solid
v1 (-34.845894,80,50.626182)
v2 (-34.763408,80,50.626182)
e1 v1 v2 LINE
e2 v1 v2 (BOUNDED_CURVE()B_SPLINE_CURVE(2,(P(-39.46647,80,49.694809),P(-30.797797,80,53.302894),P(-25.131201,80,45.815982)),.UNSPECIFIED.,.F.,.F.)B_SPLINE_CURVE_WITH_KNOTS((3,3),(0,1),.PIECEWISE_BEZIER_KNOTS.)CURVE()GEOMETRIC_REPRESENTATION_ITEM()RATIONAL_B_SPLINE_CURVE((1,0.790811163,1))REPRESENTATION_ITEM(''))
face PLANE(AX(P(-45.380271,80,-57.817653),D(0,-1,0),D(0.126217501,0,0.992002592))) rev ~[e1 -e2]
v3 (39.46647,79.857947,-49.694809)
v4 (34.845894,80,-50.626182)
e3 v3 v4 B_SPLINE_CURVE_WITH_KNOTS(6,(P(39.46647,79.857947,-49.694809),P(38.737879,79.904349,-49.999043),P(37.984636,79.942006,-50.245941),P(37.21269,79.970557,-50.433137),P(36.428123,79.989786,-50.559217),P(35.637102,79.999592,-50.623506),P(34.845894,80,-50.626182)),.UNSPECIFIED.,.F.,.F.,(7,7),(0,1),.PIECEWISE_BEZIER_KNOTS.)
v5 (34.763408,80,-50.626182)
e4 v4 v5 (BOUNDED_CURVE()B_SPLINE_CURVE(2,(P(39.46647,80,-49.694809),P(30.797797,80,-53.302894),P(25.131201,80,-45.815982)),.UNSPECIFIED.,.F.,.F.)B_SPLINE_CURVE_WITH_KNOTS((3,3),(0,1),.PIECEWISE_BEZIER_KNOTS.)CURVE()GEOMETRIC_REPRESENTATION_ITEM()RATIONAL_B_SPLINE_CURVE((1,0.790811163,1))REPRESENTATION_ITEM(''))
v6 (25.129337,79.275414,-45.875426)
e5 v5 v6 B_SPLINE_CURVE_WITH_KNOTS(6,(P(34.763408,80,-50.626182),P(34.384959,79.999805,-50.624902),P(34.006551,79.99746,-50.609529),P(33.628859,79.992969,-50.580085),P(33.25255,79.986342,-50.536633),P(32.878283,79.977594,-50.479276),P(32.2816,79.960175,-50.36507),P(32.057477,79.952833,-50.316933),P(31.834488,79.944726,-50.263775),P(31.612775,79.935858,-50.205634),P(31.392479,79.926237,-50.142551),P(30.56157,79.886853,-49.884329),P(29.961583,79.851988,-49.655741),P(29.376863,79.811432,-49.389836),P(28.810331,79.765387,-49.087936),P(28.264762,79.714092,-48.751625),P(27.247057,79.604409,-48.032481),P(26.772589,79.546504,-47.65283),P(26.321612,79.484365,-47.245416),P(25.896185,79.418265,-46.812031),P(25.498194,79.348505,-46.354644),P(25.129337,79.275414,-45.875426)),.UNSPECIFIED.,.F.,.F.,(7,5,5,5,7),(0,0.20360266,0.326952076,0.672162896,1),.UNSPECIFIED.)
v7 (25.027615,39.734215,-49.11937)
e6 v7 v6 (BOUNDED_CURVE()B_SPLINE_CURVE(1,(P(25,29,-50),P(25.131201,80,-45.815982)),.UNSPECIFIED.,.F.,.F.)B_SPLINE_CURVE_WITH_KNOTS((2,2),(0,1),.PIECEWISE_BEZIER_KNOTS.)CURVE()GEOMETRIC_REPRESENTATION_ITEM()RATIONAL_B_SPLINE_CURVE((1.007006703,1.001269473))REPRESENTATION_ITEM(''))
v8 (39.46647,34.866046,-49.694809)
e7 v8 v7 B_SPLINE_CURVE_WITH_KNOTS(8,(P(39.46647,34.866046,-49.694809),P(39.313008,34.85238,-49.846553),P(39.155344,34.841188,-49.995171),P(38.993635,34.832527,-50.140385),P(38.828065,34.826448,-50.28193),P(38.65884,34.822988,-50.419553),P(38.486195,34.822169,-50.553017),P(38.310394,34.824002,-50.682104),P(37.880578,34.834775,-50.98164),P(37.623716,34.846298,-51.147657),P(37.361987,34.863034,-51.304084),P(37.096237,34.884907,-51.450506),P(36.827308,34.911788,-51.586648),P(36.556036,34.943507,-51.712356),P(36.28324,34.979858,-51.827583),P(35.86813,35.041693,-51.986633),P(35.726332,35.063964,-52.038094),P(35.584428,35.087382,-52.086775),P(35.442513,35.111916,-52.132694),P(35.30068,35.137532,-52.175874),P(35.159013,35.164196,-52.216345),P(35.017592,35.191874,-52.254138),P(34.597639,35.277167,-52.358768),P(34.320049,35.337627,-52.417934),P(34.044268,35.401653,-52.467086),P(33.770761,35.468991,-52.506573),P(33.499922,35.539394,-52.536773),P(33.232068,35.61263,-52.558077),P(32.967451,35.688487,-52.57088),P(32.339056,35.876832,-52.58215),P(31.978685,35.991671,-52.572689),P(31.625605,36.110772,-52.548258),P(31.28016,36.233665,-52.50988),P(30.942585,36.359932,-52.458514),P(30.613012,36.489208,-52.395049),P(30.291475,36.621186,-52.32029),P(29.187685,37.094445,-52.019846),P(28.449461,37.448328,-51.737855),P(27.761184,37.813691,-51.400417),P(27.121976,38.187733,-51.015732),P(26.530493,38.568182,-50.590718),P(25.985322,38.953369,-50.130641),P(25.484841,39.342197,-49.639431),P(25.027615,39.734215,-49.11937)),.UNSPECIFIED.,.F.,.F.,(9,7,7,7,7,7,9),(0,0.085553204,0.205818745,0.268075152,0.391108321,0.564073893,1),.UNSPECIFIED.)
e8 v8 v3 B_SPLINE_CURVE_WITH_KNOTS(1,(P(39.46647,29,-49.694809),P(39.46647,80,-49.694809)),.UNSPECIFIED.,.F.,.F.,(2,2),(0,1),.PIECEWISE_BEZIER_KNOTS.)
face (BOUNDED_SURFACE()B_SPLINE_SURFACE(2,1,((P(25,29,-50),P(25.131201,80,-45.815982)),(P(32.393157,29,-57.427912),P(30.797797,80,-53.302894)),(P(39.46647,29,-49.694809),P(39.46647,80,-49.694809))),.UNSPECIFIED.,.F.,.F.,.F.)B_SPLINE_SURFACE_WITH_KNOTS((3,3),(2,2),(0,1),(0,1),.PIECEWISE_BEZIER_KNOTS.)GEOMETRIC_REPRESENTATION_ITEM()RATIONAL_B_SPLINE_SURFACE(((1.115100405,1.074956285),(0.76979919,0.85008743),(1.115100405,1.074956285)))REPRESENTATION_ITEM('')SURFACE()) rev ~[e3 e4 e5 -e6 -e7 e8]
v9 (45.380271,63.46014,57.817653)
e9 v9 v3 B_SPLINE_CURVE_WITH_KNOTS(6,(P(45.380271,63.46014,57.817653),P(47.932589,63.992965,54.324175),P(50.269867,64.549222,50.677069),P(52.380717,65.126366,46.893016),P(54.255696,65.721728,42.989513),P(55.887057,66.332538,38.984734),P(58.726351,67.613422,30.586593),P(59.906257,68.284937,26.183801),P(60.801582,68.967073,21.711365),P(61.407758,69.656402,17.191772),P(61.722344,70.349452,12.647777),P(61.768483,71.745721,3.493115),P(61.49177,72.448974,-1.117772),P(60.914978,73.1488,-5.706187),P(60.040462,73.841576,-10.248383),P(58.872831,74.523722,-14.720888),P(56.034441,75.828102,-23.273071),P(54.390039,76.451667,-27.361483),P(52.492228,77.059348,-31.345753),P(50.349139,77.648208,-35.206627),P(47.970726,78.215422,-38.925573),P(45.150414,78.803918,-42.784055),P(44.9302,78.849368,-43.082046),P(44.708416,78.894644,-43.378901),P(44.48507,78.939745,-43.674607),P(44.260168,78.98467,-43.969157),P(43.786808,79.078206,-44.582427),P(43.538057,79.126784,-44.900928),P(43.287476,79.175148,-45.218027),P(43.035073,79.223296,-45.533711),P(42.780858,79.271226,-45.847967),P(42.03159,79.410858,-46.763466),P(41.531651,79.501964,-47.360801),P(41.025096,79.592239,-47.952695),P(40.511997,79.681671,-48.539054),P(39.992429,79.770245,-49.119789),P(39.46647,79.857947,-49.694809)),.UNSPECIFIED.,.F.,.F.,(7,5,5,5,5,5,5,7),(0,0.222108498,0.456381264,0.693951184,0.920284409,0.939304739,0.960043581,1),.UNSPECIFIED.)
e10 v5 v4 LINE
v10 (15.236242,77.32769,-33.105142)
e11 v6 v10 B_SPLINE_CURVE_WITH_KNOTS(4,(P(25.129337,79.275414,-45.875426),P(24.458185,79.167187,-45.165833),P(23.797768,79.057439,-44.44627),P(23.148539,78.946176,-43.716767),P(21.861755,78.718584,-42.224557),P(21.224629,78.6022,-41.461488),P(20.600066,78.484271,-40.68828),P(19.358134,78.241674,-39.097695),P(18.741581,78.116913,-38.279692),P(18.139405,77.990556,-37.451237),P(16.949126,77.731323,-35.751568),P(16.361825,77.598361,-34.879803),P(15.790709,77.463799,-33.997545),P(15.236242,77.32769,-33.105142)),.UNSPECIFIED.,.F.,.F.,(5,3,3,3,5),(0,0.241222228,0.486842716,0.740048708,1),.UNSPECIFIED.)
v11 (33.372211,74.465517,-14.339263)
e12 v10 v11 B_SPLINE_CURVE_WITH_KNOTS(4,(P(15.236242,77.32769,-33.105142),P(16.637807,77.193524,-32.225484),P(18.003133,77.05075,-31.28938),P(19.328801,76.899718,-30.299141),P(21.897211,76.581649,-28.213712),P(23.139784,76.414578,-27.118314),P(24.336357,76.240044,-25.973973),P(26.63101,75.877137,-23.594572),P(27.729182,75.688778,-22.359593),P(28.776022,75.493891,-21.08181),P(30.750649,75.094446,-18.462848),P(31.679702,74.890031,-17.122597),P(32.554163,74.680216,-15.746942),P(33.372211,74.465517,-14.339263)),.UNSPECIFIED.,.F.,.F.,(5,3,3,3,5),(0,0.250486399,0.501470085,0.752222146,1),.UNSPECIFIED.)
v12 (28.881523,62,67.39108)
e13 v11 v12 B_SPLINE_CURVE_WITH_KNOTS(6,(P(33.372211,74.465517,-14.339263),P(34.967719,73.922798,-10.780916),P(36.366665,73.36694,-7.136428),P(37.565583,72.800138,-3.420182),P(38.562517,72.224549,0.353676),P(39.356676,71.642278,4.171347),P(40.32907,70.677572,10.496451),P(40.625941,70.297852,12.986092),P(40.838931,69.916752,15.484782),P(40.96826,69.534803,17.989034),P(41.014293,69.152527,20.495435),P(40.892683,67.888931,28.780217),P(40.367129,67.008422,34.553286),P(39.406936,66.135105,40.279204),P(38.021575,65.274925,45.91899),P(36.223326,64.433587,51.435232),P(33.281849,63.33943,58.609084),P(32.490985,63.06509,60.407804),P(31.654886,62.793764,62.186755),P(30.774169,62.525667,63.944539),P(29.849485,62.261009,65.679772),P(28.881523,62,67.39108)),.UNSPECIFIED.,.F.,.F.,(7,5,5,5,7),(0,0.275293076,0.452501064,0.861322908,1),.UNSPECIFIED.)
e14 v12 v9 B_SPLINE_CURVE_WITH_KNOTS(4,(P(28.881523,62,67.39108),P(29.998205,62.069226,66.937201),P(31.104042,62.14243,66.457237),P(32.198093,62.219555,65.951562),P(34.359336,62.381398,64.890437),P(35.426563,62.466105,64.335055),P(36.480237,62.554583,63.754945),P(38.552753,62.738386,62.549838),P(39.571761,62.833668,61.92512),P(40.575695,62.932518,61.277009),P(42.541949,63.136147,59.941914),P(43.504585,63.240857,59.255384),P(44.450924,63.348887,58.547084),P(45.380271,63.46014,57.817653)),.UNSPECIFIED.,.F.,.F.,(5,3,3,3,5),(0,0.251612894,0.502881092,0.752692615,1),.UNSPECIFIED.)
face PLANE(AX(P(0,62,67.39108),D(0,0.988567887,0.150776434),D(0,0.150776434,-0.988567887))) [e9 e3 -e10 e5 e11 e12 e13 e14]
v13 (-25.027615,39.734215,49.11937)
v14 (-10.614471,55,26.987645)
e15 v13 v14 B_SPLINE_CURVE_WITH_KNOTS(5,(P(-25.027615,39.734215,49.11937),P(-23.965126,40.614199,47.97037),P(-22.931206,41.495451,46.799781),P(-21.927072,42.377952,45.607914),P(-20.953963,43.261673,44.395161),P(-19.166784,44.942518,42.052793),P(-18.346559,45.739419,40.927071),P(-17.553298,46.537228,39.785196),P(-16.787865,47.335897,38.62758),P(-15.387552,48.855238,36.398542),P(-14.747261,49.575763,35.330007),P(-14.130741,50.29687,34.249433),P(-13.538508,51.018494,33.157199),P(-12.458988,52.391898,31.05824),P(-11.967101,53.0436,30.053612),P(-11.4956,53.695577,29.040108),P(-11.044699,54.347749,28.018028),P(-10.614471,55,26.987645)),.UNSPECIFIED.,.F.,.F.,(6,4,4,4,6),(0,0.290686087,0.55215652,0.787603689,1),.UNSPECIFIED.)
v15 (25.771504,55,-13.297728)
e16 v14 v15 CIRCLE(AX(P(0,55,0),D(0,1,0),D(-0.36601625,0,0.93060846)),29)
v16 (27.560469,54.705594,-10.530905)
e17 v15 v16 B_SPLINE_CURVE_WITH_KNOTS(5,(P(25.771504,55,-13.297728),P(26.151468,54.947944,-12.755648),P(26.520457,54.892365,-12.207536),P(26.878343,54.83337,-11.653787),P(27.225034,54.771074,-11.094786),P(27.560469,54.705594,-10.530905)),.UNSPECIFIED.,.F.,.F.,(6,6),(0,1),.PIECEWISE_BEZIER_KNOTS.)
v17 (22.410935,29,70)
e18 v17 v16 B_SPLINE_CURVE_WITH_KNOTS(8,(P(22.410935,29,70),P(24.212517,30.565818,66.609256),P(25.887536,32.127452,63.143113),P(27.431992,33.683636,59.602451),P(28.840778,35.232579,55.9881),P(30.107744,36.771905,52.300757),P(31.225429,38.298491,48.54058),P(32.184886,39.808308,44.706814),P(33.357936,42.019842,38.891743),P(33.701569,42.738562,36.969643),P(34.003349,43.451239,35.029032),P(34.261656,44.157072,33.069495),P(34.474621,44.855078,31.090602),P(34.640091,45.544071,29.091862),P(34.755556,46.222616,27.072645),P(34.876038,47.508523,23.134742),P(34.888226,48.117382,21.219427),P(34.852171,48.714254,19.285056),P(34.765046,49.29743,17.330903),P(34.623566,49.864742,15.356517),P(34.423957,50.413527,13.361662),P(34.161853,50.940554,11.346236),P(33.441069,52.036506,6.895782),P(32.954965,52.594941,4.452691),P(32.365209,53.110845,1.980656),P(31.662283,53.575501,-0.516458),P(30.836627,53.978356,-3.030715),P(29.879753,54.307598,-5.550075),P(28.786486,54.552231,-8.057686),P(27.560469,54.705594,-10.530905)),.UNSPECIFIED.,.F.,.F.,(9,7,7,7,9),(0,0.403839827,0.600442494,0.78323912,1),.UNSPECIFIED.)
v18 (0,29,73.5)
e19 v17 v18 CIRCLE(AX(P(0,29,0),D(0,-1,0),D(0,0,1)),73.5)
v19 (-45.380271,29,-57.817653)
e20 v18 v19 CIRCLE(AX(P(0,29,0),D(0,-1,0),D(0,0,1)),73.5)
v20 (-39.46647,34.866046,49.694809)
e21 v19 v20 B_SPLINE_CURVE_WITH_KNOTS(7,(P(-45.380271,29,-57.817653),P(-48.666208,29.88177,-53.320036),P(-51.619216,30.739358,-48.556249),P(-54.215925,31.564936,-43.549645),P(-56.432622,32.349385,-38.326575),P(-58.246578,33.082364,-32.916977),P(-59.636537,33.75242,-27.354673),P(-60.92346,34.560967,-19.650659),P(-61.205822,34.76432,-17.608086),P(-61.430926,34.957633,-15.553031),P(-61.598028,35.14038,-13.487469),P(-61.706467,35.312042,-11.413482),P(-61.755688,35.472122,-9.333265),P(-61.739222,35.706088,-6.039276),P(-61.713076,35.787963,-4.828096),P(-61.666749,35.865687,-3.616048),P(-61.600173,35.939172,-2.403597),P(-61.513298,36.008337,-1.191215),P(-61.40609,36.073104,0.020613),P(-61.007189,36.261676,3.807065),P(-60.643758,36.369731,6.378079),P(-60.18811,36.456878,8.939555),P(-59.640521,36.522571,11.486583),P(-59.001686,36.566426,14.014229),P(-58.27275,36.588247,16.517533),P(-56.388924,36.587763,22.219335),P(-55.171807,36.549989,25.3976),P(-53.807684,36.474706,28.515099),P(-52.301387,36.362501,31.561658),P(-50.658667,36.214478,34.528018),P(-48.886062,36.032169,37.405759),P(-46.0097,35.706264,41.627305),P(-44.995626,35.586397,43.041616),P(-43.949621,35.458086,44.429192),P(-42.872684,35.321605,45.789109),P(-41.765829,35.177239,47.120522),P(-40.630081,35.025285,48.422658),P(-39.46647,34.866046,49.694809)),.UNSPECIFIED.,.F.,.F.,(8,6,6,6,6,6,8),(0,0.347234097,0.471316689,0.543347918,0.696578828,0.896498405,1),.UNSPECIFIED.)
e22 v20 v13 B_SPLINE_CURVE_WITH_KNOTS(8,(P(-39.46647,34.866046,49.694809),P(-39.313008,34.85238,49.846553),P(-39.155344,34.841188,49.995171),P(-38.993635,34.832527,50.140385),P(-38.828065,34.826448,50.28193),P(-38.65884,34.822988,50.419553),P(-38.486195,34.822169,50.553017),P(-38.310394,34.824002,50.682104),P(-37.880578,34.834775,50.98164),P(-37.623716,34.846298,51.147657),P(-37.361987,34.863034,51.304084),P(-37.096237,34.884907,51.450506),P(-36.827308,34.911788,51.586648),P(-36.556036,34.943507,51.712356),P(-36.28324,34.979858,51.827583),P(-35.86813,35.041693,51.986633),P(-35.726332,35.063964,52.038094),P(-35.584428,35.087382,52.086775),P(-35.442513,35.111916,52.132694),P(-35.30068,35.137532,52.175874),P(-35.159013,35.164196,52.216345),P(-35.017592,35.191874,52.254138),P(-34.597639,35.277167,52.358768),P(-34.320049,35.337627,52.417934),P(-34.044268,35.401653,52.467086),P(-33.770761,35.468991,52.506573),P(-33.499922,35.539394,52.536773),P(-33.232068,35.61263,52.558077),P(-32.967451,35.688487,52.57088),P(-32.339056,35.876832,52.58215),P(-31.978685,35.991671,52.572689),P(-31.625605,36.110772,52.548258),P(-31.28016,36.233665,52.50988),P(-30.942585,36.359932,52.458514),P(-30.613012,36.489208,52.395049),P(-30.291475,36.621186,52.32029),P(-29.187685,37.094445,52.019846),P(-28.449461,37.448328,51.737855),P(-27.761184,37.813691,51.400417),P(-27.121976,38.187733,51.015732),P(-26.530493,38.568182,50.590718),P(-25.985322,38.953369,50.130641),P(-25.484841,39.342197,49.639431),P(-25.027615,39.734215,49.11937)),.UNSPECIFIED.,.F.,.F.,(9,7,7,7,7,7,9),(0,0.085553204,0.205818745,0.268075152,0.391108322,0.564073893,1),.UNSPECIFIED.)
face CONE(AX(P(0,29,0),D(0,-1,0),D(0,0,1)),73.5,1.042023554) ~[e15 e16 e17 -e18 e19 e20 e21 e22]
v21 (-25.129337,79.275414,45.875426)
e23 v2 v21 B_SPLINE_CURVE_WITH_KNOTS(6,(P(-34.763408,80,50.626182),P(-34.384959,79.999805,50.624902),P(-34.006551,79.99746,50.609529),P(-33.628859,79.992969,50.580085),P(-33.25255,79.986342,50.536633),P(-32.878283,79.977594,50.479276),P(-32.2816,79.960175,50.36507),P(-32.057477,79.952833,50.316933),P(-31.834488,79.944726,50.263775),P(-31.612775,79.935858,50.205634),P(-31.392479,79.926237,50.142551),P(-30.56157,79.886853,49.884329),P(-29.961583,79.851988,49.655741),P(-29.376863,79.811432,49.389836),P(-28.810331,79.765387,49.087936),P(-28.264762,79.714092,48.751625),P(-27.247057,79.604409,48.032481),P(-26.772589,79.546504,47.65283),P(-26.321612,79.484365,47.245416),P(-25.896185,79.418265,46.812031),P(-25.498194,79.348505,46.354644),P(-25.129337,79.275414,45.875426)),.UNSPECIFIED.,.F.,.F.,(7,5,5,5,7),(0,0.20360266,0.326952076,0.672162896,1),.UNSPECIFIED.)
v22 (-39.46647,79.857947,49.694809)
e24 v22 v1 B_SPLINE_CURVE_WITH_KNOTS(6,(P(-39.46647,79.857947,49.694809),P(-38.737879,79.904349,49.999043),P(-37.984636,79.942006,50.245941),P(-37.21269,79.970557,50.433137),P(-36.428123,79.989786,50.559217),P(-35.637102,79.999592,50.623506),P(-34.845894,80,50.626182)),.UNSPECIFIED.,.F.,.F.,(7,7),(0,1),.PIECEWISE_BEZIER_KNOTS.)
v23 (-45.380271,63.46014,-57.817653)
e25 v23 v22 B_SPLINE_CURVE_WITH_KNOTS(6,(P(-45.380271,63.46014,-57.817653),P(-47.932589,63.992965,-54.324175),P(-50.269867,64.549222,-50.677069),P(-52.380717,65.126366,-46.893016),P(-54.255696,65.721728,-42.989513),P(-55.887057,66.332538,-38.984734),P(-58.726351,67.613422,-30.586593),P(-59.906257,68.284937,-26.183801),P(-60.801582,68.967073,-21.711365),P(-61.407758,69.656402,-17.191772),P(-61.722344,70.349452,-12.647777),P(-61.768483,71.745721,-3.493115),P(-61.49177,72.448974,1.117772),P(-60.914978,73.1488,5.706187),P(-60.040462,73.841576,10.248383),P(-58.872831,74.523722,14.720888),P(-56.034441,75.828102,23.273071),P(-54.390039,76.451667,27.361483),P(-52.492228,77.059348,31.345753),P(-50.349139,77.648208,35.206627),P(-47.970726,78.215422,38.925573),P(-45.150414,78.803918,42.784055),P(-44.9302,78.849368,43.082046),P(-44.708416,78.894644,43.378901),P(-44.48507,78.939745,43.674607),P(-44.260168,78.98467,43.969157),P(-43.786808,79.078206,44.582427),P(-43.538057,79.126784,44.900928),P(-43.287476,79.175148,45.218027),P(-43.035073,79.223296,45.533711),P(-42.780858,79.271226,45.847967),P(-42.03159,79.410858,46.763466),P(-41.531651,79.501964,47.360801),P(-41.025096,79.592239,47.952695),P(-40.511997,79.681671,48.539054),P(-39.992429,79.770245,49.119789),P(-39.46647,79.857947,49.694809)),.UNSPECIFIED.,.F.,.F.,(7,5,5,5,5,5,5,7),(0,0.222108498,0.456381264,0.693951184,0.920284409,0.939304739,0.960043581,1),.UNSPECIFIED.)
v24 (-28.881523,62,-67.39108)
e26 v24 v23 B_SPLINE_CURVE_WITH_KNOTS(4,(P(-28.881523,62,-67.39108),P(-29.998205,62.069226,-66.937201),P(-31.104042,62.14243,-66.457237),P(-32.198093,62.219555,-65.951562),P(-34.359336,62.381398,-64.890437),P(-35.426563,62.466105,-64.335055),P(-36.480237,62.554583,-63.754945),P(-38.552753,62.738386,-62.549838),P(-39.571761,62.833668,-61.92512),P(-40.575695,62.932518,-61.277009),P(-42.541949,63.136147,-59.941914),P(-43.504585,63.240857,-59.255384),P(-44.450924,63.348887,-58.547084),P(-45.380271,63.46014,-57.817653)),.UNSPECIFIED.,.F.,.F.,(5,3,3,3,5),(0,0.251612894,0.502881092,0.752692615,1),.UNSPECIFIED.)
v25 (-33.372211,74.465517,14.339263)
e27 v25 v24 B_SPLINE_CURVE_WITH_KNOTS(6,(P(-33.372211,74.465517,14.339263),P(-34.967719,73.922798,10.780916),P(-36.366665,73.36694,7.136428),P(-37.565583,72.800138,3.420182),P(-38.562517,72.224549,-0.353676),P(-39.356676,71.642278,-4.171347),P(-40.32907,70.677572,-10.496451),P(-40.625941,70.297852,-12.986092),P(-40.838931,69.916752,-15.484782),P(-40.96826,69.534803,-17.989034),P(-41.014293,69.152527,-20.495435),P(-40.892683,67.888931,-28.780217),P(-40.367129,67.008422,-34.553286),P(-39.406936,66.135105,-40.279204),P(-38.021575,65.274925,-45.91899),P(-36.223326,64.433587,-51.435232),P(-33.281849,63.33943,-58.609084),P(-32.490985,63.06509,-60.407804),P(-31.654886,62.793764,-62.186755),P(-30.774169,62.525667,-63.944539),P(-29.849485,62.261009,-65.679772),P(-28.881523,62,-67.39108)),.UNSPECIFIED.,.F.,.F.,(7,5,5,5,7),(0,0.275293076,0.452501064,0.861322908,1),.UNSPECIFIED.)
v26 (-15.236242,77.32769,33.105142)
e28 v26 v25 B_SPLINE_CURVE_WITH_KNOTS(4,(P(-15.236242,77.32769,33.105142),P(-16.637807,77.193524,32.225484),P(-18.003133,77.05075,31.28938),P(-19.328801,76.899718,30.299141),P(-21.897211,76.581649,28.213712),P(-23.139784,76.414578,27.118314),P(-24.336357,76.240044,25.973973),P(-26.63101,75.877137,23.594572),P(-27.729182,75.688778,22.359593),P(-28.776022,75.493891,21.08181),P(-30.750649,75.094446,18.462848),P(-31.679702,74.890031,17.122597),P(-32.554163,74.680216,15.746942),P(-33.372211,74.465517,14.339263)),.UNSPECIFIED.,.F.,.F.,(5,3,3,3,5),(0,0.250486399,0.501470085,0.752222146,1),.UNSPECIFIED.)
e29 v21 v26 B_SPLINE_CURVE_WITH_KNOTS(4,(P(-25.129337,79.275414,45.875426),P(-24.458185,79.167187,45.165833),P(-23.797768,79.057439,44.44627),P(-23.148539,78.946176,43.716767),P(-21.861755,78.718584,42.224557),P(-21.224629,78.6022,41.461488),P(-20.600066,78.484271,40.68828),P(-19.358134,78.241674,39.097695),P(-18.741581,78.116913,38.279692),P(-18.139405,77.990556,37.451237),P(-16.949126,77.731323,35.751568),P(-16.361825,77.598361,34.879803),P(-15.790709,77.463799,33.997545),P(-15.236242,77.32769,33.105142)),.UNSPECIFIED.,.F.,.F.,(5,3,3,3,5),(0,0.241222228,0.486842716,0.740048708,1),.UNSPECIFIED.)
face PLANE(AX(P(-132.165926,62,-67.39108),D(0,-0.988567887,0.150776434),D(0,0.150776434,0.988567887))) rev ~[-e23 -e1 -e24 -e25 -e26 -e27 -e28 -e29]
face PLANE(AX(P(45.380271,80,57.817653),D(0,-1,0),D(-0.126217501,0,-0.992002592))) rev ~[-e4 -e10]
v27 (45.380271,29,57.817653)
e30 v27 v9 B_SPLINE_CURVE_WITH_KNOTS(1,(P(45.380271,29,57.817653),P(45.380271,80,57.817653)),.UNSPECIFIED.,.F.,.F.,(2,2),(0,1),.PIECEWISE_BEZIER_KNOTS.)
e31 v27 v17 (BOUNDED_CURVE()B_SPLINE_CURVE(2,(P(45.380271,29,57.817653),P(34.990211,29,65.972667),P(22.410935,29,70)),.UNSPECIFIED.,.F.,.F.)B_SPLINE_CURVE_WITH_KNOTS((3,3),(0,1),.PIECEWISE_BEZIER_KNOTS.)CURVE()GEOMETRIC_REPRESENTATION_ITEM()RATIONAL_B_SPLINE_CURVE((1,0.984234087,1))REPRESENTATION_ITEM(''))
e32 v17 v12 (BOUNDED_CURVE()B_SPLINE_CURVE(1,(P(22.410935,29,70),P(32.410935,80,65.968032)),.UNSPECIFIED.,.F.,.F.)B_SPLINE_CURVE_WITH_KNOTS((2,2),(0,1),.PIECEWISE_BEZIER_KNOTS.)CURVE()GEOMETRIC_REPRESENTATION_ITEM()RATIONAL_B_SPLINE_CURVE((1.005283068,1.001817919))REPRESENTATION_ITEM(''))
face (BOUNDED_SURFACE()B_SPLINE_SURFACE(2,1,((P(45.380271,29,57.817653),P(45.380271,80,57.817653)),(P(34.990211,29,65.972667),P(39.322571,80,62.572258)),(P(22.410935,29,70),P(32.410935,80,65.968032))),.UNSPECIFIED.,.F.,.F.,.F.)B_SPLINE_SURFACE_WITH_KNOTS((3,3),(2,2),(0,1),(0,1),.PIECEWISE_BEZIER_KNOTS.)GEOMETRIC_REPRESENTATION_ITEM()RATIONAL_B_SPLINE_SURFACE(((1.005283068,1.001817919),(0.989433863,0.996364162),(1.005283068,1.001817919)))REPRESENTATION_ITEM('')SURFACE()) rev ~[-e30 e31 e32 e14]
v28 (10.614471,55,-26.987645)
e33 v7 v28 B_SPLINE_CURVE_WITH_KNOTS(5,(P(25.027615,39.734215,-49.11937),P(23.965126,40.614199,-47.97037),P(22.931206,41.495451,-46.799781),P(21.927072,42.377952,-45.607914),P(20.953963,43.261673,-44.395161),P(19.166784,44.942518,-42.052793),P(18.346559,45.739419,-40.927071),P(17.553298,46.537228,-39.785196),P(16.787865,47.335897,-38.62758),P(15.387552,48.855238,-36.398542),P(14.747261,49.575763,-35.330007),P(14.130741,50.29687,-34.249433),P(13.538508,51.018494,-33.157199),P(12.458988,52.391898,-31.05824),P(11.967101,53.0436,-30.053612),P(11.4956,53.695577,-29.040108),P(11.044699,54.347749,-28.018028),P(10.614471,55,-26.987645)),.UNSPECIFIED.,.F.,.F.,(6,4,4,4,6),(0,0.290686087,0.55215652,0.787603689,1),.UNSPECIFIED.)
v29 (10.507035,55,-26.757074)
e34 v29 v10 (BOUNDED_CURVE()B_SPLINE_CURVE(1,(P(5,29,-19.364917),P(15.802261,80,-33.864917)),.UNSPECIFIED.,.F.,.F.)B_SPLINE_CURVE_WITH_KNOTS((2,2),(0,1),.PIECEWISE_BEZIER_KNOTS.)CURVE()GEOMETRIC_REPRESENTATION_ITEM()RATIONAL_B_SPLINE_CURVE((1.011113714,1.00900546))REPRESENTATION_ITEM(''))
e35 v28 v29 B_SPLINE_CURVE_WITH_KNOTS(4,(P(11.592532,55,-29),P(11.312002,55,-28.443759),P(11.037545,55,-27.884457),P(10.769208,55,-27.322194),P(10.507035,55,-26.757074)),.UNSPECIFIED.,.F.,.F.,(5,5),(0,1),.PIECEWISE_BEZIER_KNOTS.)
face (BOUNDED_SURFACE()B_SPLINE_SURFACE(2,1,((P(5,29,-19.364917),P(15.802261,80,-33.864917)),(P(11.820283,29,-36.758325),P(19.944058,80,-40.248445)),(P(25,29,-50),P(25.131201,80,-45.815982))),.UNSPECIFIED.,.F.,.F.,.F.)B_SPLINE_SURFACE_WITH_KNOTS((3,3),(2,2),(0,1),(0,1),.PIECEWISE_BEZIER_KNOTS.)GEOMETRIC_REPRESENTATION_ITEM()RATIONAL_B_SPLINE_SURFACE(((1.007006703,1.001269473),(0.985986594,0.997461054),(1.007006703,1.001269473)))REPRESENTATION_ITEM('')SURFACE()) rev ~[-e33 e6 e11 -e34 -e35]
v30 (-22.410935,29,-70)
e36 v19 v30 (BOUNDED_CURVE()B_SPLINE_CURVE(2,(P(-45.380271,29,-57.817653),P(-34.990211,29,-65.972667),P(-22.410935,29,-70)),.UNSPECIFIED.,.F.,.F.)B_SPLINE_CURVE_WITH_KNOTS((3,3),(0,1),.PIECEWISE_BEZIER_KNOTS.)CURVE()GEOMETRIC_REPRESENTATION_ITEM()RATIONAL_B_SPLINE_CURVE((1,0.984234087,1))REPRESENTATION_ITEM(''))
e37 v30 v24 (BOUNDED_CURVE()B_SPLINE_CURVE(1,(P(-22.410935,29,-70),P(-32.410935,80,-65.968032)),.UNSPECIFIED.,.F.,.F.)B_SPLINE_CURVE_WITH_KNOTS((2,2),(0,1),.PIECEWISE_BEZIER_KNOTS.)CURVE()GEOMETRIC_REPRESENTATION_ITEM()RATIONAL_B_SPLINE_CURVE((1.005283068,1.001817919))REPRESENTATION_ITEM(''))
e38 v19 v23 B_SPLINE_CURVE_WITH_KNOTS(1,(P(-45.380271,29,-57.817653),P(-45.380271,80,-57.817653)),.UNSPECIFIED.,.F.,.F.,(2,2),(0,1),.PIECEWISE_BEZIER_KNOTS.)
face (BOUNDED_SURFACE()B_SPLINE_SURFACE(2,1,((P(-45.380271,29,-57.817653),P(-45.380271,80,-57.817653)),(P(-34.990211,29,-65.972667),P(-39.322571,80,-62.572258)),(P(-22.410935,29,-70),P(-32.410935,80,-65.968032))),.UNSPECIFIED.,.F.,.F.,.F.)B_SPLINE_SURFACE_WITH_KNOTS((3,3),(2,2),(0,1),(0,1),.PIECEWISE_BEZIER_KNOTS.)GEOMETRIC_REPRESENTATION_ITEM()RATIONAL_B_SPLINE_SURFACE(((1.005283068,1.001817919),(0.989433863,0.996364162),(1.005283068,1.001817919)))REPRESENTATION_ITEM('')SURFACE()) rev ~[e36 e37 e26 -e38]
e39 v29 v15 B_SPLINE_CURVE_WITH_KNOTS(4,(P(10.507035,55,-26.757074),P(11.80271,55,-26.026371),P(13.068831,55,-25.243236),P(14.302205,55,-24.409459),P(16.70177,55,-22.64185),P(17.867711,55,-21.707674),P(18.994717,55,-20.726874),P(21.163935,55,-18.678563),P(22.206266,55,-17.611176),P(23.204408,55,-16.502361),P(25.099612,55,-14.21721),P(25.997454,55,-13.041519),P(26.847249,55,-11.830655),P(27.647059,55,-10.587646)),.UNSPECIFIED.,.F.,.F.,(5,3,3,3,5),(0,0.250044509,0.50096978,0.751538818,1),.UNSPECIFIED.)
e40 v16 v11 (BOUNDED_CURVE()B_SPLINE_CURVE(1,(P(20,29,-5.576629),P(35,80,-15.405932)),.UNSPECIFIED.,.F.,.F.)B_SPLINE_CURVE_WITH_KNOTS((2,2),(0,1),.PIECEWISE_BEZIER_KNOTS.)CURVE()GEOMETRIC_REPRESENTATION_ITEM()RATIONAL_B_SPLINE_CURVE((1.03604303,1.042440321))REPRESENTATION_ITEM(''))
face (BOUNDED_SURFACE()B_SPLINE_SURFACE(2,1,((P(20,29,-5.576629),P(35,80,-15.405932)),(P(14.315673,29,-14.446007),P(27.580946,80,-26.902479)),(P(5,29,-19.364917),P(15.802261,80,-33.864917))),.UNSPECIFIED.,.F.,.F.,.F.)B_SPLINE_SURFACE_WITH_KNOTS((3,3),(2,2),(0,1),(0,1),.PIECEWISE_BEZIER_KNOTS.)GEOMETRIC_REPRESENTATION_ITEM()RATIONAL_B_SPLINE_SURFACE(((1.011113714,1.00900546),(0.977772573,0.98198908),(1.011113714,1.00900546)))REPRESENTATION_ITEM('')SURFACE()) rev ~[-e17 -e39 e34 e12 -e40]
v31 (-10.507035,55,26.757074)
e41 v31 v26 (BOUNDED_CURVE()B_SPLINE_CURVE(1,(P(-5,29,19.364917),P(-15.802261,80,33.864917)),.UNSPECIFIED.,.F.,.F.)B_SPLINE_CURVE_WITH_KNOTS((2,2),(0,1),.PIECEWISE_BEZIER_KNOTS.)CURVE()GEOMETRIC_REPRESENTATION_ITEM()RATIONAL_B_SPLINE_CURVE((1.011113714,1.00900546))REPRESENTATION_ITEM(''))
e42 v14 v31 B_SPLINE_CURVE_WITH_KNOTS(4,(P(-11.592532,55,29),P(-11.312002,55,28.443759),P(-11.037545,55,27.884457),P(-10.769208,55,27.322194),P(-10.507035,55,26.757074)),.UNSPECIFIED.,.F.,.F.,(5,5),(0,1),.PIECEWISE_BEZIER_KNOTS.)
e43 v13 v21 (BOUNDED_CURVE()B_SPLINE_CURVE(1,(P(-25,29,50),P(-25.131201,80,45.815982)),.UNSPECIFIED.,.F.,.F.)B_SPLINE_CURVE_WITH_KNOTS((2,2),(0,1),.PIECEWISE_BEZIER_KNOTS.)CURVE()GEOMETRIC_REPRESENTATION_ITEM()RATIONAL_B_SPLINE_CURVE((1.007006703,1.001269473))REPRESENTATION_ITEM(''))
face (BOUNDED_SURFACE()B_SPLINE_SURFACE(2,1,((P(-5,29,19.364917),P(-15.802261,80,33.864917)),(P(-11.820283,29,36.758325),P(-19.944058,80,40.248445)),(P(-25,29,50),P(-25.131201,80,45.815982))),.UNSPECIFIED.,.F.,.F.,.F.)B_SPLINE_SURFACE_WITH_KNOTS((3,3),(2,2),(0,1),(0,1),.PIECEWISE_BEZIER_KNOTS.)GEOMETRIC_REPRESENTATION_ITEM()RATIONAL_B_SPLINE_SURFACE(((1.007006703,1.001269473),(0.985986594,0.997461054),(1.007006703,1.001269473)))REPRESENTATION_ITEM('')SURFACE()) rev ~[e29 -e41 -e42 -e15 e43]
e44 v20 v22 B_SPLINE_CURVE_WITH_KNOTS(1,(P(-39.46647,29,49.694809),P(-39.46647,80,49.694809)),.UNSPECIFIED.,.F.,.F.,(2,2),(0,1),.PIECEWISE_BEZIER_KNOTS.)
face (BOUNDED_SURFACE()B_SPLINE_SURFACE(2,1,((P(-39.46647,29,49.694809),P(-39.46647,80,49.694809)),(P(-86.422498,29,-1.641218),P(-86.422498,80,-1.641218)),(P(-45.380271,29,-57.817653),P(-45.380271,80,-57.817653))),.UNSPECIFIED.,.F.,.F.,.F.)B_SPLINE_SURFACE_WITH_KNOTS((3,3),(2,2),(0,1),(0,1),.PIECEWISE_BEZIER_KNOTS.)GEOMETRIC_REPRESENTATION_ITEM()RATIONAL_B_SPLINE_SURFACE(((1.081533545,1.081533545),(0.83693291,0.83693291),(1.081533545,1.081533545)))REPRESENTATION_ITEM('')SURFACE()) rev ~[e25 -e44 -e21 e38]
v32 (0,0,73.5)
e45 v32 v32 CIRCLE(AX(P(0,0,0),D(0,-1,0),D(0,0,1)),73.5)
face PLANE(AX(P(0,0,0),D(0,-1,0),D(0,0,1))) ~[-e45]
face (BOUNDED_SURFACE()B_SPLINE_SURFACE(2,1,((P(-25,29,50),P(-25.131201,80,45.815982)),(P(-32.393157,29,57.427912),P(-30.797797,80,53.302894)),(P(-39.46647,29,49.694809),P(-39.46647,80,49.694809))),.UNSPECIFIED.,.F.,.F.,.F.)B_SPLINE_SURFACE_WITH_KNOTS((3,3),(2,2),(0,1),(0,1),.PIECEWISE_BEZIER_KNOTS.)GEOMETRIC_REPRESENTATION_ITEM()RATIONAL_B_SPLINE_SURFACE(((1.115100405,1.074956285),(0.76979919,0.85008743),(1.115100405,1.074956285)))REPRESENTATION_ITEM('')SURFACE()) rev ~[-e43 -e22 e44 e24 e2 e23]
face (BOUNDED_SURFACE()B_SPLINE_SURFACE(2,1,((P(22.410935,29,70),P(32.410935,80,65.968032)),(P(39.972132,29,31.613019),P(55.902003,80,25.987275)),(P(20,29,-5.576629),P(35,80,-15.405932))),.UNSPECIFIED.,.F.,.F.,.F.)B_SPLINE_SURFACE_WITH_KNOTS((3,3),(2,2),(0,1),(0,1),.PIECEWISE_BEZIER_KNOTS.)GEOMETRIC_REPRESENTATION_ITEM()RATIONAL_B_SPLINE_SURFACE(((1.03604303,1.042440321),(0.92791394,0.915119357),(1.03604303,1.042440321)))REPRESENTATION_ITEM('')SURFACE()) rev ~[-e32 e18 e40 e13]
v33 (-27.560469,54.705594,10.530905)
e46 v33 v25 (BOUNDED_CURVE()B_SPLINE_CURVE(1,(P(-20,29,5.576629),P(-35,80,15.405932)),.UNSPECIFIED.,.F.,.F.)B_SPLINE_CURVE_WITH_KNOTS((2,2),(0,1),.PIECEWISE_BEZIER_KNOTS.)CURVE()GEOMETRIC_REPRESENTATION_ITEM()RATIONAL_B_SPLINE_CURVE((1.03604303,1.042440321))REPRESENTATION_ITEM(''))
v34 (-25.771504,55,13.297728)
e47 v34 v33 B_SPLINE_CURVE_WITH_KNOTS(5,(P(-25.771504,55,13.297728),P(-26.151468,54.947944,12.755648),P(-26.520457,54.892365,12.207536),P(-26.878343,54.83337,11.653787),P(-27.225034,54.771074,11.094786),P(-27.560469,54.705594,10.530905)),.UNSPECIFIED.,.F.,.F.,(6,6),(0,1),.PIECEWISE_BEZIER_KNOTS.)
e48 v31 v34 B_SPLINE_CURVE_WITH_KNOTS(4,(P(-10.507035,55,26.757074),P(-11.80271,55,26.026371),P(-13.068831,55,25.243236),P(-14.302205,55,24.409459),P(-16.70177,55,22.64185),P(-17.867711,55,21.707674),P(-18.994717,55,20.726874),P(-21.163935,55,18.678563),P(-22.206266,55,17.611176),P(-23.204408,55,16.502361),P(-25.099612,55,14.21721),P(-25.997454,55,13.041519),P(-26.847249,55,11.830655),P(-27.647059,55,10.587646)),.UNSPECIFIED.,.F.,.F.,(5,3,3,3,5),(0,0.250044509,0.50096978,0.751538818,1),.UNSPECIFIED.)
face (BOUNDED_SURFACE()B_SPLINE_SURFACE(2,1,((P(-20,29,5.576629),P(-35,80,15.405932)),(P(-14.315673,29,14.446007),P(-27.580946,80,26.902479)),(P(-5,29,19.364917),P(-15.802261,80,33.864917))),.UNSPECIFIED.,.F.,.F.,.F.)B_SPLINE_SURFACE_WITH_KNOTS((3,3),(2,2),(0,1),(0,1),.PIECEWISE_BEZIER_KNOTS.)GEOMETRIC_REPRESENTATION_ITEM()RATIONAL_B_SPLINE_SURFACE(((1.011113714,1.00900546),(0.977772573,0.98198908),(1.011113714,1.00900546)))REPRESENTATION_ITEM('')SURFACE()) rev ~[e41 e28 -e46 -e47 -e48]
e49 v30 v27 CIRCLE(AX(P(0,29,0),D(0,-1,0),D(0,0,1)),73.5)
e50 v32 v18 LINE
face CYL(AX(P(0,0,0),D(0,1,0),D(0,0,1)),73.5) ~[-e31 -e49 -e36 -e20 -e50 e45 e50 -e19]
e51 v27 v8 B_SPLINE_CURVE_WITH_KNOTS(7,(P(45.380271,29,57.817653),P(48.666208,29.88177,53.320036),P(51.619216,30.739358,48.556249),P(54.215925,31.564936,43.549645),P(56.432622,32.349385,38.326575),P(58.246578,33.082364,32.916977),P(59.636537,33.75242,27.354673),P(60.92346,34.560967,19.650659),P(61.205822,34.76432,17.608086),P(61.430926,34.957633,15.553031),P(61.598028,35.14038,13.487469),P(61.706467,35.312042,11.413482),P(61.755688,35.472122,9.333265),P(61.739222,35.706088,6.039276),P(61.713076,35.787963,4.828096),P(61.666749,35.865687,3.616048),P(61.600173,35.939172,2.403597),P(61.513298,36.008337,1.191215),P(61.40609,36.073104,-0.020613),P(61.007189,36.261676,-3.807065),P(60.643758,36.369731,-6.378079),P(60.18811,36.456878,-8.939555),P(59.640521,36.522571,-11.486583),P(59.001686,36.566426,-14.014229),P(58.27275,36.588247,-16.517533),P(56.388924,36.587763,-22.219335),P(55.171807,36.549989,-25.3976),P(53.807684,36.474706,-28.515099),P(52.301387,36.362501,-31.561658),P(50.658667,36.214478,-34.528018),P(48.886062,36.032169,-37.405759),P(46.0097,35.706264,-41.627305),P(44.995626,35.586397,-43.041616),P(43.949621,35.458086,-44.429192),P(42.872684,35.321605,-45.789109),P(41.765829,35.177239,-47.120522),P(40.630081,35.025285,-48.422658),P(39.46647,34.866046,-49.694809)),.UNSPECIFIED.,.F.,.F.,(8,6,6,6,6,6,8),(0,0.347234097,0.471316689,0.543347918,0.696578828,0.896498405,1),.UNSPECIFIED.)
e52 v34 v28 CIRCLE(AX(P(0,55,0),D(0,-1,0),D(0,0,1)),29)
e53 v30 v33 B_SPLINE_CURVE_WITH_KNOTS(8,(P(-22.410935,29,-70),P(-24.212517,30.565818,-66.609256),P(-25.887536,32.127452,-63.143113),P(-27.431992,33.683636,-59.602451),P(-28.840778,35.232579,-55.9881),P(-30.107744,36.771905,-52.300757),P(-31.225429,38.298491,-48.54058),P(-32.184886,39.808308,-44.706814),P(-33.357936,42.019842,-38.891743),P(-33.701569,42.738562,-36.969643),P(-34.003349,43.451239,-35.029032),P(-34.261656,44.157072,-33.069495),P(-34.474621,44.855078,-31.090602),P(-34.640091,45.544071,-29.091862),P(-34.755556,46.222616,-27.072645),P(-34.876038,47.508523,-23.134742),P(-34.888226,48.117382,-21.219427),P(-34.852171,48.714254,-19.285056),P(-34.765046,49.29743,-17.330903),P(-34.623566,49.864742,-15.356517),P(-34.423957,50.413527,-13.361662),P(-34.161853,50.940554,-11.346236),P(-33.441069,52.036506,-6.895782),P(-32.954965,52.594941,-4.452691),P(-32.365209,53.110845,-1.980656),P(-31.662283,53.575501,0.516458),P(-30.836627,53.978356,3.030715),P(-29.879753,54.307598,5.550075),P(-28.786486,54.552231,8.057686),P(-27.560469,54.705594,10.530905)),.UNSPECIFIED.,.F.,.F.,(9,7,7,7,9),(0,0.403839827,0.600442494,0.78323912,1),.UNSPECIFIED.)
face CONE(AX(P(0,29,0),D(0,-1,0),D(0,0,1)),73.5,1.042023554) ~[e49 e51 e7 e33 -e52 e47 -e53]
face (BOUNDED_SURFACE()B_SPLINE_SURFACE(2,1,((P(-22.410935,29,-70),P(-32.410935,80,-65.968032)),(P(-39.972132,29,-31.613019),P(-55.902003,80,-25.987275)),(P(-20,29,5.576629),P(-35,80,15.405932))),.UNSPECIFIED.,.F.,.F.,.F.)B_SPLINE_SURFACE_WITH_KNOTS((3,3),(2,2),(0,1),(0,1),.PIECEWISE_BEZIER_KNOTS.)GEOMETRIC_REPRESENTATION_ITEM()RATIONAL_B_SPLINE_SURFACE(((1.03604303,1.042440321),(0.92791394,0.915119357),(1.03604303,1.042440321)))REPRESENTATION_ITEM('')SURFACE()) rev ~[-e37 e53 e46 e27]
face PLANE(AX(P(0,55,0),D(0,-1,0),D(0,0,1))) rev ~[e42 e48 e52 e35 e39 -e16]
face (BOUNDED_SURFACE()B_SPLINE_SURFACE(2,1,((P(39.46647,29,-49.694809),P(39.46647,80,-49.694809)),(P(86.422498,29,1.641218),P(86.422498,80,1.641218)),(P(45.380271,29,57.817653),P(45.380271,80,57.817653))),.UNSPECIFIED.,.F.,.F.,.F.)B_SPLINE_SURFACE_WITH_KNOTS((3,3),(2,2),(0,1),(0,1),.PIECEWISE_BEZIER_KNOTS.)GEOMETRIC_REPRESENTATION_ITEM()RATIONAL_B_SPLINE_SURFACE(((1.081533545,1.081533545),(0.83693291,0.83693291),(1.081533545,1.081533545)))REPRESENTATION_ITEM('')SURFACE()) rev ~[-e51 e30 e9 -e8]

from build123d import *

# Parameters (mm, degrees)
CUT_EXTRUDE_1_DEPTH      = 132.165925626
CUT_EXTRUDE_1_DEPTH_BACK = 132.165925626
PATTERN_CIRCULAR_1_COUNT = 2
CUT_EXTRUDE_2_DEPTH      = 132.165925626


with BuildPart() as part:
    # Эскиз1 → Повернуть1 (revolve)
    with BuildSketch(Plane.XY, mode=Mode.PRIVATE) as revolve_1_sk:
        Polygon((0, 0), (-73.5, 0), (-73.5, 29), (-29, 55), (0, 55), align=None)
    revolve(revolve_1_sk.sketch.rotate(Axis((0, 0, 0), (0, -1, 0)), 270), axis=Axis((0, 0, 0), (0, -1, 0)))

    # Эскиз2 for По сечениям2 → По сечениям2 section 0
    with BuildSketch(Plane(origin=(0, 29, 0), x_dir=(-1, 0, 0), z_dir=(0, -1, 0))):
        with BuildLine():
            # circular arc as an exact rational Bezier (weights 1, cos(half-angle), 1)
            Bezier((39.466469787, -49.694809123), (86.422497659, 1.641217724), (45.380271287, 57.817652822), weights=[1, 0.773839067, 1])
            Bezier((45.380271287, 57.817652822), (34.990210983, 65.972666599), (22.410934831, 70), weights=[1, 0.984234087, 1])
            Bezier((22.410934831, 70), (39.972131567, 31.613018677), (20, -5.576629433), weights=[1, 0.895632627, 1])
            Bezier((20, -5.576629433), (14.31567319, -14.44600737), (5, -19.364916731), weights=[1, 0.96702533, 1])
            Bezier((5, -19.364916731), (11.820283108, -36.758324694), (25, -50), weights=[1, 0.979126148, 1])
            Bezier((25, -50), (32.393156545, -57.42791209), (39.466469787, -49.694809123), weights=[1, 0.690340696, 1])
        make_face()
    # Эскиз3 for По сечениям2 → По сечениям2 section 1
    with BuildSketch(Plane(origin=(0, 80, 0), x_dir=(1, 0, 0), z_dir=(0, 1, 0))):
        with BuildLine():
            Bezier((-32.410934831, 65.968032435), (-39.322570908, 62.57225757), (-45.380271287, 57.817652822), weights=[1, 0.994556139, 1])
            Bezier((-45.380271287, 57.817652822), (-86.422497659, 1.641217724), (-39.466469787, -49.694809123), weights=[1, 0.773839067, 1])
            Bezier((-39.466469787, -49.694809123), (-30.797796987, -53.302893985), (-25.13120111, -45.815981695), weights=[1, 0.790811163, 1])
            Bezier((-25.13120111, -45.815981695), (-19.944058149, -40.248445108), (-15.802261293, -33.864916731), weights=[1, 0.99619641, 1])
            Bezier((-15.802261293, -33.864916731), (-27.58094632, -26.902479263), (-35, -15.405932001), weights=[1, 0.973224743, 1])
            Bezier((-35, -15.405932001), (-55.902003331, 25.987274602), (-32.410934831, 65.968032435), weights=[1, 0.877862587, 1])
        make_face()
    loft_2 = loft()

    # Эскиз6 → Вырез-Вытянуть1 (cut, two sides: drawn at the far end of the back side and taken through both)
    with BuildSketch(Plane(origin=(0, 0, 0), x_dir=(0, 0, -1), z_dir=(1, 0, 0)).offset(-CUT_EXTRUDE_1_DEPTH_BACK)):
        Polygon((67.391079811, 62), (-50.626182403, 80), (-50.626182403, 96.194321308), (67.391079811, 98.711918652), align=None)
    extrude(amount=CUT_EXTRUDE_1_DEPTH + CUT_EXTRUDE_1_DEPTH_BACK, mode=Mode.SUBTRACT)

    # Круговой массив1: По сечениям2 ×2 about axis
    pattern_circular_1_axis = Axis((0, 0, 0), (0, 1, 0))
    for i in range(1, PATTERN_CIRCULAR_1_COUNT):
        add(loft_2.rotate(pattern_circular_1_axis, i * 360 / PATTERN_CIRCULAR_1_COUNT))

    # Эскиз7 → Вырез-Вытянуть2 (cut, through all)
    with BuildSketch(Plane(origin=(0, 0, 0), x_dir=(0, 0, -1), z_dir=(1, 0, 0))):
        Polygon((50.626182403, 80), (50.626182403, 117.416831393), (-67.391079811, 118.791932979), (-67.391079811, 62), align=None)
    extrude(amount=CUT_EXTRUDE_2_DEPTH, mode=Mode.SUBTRACT)


solid = part.part
